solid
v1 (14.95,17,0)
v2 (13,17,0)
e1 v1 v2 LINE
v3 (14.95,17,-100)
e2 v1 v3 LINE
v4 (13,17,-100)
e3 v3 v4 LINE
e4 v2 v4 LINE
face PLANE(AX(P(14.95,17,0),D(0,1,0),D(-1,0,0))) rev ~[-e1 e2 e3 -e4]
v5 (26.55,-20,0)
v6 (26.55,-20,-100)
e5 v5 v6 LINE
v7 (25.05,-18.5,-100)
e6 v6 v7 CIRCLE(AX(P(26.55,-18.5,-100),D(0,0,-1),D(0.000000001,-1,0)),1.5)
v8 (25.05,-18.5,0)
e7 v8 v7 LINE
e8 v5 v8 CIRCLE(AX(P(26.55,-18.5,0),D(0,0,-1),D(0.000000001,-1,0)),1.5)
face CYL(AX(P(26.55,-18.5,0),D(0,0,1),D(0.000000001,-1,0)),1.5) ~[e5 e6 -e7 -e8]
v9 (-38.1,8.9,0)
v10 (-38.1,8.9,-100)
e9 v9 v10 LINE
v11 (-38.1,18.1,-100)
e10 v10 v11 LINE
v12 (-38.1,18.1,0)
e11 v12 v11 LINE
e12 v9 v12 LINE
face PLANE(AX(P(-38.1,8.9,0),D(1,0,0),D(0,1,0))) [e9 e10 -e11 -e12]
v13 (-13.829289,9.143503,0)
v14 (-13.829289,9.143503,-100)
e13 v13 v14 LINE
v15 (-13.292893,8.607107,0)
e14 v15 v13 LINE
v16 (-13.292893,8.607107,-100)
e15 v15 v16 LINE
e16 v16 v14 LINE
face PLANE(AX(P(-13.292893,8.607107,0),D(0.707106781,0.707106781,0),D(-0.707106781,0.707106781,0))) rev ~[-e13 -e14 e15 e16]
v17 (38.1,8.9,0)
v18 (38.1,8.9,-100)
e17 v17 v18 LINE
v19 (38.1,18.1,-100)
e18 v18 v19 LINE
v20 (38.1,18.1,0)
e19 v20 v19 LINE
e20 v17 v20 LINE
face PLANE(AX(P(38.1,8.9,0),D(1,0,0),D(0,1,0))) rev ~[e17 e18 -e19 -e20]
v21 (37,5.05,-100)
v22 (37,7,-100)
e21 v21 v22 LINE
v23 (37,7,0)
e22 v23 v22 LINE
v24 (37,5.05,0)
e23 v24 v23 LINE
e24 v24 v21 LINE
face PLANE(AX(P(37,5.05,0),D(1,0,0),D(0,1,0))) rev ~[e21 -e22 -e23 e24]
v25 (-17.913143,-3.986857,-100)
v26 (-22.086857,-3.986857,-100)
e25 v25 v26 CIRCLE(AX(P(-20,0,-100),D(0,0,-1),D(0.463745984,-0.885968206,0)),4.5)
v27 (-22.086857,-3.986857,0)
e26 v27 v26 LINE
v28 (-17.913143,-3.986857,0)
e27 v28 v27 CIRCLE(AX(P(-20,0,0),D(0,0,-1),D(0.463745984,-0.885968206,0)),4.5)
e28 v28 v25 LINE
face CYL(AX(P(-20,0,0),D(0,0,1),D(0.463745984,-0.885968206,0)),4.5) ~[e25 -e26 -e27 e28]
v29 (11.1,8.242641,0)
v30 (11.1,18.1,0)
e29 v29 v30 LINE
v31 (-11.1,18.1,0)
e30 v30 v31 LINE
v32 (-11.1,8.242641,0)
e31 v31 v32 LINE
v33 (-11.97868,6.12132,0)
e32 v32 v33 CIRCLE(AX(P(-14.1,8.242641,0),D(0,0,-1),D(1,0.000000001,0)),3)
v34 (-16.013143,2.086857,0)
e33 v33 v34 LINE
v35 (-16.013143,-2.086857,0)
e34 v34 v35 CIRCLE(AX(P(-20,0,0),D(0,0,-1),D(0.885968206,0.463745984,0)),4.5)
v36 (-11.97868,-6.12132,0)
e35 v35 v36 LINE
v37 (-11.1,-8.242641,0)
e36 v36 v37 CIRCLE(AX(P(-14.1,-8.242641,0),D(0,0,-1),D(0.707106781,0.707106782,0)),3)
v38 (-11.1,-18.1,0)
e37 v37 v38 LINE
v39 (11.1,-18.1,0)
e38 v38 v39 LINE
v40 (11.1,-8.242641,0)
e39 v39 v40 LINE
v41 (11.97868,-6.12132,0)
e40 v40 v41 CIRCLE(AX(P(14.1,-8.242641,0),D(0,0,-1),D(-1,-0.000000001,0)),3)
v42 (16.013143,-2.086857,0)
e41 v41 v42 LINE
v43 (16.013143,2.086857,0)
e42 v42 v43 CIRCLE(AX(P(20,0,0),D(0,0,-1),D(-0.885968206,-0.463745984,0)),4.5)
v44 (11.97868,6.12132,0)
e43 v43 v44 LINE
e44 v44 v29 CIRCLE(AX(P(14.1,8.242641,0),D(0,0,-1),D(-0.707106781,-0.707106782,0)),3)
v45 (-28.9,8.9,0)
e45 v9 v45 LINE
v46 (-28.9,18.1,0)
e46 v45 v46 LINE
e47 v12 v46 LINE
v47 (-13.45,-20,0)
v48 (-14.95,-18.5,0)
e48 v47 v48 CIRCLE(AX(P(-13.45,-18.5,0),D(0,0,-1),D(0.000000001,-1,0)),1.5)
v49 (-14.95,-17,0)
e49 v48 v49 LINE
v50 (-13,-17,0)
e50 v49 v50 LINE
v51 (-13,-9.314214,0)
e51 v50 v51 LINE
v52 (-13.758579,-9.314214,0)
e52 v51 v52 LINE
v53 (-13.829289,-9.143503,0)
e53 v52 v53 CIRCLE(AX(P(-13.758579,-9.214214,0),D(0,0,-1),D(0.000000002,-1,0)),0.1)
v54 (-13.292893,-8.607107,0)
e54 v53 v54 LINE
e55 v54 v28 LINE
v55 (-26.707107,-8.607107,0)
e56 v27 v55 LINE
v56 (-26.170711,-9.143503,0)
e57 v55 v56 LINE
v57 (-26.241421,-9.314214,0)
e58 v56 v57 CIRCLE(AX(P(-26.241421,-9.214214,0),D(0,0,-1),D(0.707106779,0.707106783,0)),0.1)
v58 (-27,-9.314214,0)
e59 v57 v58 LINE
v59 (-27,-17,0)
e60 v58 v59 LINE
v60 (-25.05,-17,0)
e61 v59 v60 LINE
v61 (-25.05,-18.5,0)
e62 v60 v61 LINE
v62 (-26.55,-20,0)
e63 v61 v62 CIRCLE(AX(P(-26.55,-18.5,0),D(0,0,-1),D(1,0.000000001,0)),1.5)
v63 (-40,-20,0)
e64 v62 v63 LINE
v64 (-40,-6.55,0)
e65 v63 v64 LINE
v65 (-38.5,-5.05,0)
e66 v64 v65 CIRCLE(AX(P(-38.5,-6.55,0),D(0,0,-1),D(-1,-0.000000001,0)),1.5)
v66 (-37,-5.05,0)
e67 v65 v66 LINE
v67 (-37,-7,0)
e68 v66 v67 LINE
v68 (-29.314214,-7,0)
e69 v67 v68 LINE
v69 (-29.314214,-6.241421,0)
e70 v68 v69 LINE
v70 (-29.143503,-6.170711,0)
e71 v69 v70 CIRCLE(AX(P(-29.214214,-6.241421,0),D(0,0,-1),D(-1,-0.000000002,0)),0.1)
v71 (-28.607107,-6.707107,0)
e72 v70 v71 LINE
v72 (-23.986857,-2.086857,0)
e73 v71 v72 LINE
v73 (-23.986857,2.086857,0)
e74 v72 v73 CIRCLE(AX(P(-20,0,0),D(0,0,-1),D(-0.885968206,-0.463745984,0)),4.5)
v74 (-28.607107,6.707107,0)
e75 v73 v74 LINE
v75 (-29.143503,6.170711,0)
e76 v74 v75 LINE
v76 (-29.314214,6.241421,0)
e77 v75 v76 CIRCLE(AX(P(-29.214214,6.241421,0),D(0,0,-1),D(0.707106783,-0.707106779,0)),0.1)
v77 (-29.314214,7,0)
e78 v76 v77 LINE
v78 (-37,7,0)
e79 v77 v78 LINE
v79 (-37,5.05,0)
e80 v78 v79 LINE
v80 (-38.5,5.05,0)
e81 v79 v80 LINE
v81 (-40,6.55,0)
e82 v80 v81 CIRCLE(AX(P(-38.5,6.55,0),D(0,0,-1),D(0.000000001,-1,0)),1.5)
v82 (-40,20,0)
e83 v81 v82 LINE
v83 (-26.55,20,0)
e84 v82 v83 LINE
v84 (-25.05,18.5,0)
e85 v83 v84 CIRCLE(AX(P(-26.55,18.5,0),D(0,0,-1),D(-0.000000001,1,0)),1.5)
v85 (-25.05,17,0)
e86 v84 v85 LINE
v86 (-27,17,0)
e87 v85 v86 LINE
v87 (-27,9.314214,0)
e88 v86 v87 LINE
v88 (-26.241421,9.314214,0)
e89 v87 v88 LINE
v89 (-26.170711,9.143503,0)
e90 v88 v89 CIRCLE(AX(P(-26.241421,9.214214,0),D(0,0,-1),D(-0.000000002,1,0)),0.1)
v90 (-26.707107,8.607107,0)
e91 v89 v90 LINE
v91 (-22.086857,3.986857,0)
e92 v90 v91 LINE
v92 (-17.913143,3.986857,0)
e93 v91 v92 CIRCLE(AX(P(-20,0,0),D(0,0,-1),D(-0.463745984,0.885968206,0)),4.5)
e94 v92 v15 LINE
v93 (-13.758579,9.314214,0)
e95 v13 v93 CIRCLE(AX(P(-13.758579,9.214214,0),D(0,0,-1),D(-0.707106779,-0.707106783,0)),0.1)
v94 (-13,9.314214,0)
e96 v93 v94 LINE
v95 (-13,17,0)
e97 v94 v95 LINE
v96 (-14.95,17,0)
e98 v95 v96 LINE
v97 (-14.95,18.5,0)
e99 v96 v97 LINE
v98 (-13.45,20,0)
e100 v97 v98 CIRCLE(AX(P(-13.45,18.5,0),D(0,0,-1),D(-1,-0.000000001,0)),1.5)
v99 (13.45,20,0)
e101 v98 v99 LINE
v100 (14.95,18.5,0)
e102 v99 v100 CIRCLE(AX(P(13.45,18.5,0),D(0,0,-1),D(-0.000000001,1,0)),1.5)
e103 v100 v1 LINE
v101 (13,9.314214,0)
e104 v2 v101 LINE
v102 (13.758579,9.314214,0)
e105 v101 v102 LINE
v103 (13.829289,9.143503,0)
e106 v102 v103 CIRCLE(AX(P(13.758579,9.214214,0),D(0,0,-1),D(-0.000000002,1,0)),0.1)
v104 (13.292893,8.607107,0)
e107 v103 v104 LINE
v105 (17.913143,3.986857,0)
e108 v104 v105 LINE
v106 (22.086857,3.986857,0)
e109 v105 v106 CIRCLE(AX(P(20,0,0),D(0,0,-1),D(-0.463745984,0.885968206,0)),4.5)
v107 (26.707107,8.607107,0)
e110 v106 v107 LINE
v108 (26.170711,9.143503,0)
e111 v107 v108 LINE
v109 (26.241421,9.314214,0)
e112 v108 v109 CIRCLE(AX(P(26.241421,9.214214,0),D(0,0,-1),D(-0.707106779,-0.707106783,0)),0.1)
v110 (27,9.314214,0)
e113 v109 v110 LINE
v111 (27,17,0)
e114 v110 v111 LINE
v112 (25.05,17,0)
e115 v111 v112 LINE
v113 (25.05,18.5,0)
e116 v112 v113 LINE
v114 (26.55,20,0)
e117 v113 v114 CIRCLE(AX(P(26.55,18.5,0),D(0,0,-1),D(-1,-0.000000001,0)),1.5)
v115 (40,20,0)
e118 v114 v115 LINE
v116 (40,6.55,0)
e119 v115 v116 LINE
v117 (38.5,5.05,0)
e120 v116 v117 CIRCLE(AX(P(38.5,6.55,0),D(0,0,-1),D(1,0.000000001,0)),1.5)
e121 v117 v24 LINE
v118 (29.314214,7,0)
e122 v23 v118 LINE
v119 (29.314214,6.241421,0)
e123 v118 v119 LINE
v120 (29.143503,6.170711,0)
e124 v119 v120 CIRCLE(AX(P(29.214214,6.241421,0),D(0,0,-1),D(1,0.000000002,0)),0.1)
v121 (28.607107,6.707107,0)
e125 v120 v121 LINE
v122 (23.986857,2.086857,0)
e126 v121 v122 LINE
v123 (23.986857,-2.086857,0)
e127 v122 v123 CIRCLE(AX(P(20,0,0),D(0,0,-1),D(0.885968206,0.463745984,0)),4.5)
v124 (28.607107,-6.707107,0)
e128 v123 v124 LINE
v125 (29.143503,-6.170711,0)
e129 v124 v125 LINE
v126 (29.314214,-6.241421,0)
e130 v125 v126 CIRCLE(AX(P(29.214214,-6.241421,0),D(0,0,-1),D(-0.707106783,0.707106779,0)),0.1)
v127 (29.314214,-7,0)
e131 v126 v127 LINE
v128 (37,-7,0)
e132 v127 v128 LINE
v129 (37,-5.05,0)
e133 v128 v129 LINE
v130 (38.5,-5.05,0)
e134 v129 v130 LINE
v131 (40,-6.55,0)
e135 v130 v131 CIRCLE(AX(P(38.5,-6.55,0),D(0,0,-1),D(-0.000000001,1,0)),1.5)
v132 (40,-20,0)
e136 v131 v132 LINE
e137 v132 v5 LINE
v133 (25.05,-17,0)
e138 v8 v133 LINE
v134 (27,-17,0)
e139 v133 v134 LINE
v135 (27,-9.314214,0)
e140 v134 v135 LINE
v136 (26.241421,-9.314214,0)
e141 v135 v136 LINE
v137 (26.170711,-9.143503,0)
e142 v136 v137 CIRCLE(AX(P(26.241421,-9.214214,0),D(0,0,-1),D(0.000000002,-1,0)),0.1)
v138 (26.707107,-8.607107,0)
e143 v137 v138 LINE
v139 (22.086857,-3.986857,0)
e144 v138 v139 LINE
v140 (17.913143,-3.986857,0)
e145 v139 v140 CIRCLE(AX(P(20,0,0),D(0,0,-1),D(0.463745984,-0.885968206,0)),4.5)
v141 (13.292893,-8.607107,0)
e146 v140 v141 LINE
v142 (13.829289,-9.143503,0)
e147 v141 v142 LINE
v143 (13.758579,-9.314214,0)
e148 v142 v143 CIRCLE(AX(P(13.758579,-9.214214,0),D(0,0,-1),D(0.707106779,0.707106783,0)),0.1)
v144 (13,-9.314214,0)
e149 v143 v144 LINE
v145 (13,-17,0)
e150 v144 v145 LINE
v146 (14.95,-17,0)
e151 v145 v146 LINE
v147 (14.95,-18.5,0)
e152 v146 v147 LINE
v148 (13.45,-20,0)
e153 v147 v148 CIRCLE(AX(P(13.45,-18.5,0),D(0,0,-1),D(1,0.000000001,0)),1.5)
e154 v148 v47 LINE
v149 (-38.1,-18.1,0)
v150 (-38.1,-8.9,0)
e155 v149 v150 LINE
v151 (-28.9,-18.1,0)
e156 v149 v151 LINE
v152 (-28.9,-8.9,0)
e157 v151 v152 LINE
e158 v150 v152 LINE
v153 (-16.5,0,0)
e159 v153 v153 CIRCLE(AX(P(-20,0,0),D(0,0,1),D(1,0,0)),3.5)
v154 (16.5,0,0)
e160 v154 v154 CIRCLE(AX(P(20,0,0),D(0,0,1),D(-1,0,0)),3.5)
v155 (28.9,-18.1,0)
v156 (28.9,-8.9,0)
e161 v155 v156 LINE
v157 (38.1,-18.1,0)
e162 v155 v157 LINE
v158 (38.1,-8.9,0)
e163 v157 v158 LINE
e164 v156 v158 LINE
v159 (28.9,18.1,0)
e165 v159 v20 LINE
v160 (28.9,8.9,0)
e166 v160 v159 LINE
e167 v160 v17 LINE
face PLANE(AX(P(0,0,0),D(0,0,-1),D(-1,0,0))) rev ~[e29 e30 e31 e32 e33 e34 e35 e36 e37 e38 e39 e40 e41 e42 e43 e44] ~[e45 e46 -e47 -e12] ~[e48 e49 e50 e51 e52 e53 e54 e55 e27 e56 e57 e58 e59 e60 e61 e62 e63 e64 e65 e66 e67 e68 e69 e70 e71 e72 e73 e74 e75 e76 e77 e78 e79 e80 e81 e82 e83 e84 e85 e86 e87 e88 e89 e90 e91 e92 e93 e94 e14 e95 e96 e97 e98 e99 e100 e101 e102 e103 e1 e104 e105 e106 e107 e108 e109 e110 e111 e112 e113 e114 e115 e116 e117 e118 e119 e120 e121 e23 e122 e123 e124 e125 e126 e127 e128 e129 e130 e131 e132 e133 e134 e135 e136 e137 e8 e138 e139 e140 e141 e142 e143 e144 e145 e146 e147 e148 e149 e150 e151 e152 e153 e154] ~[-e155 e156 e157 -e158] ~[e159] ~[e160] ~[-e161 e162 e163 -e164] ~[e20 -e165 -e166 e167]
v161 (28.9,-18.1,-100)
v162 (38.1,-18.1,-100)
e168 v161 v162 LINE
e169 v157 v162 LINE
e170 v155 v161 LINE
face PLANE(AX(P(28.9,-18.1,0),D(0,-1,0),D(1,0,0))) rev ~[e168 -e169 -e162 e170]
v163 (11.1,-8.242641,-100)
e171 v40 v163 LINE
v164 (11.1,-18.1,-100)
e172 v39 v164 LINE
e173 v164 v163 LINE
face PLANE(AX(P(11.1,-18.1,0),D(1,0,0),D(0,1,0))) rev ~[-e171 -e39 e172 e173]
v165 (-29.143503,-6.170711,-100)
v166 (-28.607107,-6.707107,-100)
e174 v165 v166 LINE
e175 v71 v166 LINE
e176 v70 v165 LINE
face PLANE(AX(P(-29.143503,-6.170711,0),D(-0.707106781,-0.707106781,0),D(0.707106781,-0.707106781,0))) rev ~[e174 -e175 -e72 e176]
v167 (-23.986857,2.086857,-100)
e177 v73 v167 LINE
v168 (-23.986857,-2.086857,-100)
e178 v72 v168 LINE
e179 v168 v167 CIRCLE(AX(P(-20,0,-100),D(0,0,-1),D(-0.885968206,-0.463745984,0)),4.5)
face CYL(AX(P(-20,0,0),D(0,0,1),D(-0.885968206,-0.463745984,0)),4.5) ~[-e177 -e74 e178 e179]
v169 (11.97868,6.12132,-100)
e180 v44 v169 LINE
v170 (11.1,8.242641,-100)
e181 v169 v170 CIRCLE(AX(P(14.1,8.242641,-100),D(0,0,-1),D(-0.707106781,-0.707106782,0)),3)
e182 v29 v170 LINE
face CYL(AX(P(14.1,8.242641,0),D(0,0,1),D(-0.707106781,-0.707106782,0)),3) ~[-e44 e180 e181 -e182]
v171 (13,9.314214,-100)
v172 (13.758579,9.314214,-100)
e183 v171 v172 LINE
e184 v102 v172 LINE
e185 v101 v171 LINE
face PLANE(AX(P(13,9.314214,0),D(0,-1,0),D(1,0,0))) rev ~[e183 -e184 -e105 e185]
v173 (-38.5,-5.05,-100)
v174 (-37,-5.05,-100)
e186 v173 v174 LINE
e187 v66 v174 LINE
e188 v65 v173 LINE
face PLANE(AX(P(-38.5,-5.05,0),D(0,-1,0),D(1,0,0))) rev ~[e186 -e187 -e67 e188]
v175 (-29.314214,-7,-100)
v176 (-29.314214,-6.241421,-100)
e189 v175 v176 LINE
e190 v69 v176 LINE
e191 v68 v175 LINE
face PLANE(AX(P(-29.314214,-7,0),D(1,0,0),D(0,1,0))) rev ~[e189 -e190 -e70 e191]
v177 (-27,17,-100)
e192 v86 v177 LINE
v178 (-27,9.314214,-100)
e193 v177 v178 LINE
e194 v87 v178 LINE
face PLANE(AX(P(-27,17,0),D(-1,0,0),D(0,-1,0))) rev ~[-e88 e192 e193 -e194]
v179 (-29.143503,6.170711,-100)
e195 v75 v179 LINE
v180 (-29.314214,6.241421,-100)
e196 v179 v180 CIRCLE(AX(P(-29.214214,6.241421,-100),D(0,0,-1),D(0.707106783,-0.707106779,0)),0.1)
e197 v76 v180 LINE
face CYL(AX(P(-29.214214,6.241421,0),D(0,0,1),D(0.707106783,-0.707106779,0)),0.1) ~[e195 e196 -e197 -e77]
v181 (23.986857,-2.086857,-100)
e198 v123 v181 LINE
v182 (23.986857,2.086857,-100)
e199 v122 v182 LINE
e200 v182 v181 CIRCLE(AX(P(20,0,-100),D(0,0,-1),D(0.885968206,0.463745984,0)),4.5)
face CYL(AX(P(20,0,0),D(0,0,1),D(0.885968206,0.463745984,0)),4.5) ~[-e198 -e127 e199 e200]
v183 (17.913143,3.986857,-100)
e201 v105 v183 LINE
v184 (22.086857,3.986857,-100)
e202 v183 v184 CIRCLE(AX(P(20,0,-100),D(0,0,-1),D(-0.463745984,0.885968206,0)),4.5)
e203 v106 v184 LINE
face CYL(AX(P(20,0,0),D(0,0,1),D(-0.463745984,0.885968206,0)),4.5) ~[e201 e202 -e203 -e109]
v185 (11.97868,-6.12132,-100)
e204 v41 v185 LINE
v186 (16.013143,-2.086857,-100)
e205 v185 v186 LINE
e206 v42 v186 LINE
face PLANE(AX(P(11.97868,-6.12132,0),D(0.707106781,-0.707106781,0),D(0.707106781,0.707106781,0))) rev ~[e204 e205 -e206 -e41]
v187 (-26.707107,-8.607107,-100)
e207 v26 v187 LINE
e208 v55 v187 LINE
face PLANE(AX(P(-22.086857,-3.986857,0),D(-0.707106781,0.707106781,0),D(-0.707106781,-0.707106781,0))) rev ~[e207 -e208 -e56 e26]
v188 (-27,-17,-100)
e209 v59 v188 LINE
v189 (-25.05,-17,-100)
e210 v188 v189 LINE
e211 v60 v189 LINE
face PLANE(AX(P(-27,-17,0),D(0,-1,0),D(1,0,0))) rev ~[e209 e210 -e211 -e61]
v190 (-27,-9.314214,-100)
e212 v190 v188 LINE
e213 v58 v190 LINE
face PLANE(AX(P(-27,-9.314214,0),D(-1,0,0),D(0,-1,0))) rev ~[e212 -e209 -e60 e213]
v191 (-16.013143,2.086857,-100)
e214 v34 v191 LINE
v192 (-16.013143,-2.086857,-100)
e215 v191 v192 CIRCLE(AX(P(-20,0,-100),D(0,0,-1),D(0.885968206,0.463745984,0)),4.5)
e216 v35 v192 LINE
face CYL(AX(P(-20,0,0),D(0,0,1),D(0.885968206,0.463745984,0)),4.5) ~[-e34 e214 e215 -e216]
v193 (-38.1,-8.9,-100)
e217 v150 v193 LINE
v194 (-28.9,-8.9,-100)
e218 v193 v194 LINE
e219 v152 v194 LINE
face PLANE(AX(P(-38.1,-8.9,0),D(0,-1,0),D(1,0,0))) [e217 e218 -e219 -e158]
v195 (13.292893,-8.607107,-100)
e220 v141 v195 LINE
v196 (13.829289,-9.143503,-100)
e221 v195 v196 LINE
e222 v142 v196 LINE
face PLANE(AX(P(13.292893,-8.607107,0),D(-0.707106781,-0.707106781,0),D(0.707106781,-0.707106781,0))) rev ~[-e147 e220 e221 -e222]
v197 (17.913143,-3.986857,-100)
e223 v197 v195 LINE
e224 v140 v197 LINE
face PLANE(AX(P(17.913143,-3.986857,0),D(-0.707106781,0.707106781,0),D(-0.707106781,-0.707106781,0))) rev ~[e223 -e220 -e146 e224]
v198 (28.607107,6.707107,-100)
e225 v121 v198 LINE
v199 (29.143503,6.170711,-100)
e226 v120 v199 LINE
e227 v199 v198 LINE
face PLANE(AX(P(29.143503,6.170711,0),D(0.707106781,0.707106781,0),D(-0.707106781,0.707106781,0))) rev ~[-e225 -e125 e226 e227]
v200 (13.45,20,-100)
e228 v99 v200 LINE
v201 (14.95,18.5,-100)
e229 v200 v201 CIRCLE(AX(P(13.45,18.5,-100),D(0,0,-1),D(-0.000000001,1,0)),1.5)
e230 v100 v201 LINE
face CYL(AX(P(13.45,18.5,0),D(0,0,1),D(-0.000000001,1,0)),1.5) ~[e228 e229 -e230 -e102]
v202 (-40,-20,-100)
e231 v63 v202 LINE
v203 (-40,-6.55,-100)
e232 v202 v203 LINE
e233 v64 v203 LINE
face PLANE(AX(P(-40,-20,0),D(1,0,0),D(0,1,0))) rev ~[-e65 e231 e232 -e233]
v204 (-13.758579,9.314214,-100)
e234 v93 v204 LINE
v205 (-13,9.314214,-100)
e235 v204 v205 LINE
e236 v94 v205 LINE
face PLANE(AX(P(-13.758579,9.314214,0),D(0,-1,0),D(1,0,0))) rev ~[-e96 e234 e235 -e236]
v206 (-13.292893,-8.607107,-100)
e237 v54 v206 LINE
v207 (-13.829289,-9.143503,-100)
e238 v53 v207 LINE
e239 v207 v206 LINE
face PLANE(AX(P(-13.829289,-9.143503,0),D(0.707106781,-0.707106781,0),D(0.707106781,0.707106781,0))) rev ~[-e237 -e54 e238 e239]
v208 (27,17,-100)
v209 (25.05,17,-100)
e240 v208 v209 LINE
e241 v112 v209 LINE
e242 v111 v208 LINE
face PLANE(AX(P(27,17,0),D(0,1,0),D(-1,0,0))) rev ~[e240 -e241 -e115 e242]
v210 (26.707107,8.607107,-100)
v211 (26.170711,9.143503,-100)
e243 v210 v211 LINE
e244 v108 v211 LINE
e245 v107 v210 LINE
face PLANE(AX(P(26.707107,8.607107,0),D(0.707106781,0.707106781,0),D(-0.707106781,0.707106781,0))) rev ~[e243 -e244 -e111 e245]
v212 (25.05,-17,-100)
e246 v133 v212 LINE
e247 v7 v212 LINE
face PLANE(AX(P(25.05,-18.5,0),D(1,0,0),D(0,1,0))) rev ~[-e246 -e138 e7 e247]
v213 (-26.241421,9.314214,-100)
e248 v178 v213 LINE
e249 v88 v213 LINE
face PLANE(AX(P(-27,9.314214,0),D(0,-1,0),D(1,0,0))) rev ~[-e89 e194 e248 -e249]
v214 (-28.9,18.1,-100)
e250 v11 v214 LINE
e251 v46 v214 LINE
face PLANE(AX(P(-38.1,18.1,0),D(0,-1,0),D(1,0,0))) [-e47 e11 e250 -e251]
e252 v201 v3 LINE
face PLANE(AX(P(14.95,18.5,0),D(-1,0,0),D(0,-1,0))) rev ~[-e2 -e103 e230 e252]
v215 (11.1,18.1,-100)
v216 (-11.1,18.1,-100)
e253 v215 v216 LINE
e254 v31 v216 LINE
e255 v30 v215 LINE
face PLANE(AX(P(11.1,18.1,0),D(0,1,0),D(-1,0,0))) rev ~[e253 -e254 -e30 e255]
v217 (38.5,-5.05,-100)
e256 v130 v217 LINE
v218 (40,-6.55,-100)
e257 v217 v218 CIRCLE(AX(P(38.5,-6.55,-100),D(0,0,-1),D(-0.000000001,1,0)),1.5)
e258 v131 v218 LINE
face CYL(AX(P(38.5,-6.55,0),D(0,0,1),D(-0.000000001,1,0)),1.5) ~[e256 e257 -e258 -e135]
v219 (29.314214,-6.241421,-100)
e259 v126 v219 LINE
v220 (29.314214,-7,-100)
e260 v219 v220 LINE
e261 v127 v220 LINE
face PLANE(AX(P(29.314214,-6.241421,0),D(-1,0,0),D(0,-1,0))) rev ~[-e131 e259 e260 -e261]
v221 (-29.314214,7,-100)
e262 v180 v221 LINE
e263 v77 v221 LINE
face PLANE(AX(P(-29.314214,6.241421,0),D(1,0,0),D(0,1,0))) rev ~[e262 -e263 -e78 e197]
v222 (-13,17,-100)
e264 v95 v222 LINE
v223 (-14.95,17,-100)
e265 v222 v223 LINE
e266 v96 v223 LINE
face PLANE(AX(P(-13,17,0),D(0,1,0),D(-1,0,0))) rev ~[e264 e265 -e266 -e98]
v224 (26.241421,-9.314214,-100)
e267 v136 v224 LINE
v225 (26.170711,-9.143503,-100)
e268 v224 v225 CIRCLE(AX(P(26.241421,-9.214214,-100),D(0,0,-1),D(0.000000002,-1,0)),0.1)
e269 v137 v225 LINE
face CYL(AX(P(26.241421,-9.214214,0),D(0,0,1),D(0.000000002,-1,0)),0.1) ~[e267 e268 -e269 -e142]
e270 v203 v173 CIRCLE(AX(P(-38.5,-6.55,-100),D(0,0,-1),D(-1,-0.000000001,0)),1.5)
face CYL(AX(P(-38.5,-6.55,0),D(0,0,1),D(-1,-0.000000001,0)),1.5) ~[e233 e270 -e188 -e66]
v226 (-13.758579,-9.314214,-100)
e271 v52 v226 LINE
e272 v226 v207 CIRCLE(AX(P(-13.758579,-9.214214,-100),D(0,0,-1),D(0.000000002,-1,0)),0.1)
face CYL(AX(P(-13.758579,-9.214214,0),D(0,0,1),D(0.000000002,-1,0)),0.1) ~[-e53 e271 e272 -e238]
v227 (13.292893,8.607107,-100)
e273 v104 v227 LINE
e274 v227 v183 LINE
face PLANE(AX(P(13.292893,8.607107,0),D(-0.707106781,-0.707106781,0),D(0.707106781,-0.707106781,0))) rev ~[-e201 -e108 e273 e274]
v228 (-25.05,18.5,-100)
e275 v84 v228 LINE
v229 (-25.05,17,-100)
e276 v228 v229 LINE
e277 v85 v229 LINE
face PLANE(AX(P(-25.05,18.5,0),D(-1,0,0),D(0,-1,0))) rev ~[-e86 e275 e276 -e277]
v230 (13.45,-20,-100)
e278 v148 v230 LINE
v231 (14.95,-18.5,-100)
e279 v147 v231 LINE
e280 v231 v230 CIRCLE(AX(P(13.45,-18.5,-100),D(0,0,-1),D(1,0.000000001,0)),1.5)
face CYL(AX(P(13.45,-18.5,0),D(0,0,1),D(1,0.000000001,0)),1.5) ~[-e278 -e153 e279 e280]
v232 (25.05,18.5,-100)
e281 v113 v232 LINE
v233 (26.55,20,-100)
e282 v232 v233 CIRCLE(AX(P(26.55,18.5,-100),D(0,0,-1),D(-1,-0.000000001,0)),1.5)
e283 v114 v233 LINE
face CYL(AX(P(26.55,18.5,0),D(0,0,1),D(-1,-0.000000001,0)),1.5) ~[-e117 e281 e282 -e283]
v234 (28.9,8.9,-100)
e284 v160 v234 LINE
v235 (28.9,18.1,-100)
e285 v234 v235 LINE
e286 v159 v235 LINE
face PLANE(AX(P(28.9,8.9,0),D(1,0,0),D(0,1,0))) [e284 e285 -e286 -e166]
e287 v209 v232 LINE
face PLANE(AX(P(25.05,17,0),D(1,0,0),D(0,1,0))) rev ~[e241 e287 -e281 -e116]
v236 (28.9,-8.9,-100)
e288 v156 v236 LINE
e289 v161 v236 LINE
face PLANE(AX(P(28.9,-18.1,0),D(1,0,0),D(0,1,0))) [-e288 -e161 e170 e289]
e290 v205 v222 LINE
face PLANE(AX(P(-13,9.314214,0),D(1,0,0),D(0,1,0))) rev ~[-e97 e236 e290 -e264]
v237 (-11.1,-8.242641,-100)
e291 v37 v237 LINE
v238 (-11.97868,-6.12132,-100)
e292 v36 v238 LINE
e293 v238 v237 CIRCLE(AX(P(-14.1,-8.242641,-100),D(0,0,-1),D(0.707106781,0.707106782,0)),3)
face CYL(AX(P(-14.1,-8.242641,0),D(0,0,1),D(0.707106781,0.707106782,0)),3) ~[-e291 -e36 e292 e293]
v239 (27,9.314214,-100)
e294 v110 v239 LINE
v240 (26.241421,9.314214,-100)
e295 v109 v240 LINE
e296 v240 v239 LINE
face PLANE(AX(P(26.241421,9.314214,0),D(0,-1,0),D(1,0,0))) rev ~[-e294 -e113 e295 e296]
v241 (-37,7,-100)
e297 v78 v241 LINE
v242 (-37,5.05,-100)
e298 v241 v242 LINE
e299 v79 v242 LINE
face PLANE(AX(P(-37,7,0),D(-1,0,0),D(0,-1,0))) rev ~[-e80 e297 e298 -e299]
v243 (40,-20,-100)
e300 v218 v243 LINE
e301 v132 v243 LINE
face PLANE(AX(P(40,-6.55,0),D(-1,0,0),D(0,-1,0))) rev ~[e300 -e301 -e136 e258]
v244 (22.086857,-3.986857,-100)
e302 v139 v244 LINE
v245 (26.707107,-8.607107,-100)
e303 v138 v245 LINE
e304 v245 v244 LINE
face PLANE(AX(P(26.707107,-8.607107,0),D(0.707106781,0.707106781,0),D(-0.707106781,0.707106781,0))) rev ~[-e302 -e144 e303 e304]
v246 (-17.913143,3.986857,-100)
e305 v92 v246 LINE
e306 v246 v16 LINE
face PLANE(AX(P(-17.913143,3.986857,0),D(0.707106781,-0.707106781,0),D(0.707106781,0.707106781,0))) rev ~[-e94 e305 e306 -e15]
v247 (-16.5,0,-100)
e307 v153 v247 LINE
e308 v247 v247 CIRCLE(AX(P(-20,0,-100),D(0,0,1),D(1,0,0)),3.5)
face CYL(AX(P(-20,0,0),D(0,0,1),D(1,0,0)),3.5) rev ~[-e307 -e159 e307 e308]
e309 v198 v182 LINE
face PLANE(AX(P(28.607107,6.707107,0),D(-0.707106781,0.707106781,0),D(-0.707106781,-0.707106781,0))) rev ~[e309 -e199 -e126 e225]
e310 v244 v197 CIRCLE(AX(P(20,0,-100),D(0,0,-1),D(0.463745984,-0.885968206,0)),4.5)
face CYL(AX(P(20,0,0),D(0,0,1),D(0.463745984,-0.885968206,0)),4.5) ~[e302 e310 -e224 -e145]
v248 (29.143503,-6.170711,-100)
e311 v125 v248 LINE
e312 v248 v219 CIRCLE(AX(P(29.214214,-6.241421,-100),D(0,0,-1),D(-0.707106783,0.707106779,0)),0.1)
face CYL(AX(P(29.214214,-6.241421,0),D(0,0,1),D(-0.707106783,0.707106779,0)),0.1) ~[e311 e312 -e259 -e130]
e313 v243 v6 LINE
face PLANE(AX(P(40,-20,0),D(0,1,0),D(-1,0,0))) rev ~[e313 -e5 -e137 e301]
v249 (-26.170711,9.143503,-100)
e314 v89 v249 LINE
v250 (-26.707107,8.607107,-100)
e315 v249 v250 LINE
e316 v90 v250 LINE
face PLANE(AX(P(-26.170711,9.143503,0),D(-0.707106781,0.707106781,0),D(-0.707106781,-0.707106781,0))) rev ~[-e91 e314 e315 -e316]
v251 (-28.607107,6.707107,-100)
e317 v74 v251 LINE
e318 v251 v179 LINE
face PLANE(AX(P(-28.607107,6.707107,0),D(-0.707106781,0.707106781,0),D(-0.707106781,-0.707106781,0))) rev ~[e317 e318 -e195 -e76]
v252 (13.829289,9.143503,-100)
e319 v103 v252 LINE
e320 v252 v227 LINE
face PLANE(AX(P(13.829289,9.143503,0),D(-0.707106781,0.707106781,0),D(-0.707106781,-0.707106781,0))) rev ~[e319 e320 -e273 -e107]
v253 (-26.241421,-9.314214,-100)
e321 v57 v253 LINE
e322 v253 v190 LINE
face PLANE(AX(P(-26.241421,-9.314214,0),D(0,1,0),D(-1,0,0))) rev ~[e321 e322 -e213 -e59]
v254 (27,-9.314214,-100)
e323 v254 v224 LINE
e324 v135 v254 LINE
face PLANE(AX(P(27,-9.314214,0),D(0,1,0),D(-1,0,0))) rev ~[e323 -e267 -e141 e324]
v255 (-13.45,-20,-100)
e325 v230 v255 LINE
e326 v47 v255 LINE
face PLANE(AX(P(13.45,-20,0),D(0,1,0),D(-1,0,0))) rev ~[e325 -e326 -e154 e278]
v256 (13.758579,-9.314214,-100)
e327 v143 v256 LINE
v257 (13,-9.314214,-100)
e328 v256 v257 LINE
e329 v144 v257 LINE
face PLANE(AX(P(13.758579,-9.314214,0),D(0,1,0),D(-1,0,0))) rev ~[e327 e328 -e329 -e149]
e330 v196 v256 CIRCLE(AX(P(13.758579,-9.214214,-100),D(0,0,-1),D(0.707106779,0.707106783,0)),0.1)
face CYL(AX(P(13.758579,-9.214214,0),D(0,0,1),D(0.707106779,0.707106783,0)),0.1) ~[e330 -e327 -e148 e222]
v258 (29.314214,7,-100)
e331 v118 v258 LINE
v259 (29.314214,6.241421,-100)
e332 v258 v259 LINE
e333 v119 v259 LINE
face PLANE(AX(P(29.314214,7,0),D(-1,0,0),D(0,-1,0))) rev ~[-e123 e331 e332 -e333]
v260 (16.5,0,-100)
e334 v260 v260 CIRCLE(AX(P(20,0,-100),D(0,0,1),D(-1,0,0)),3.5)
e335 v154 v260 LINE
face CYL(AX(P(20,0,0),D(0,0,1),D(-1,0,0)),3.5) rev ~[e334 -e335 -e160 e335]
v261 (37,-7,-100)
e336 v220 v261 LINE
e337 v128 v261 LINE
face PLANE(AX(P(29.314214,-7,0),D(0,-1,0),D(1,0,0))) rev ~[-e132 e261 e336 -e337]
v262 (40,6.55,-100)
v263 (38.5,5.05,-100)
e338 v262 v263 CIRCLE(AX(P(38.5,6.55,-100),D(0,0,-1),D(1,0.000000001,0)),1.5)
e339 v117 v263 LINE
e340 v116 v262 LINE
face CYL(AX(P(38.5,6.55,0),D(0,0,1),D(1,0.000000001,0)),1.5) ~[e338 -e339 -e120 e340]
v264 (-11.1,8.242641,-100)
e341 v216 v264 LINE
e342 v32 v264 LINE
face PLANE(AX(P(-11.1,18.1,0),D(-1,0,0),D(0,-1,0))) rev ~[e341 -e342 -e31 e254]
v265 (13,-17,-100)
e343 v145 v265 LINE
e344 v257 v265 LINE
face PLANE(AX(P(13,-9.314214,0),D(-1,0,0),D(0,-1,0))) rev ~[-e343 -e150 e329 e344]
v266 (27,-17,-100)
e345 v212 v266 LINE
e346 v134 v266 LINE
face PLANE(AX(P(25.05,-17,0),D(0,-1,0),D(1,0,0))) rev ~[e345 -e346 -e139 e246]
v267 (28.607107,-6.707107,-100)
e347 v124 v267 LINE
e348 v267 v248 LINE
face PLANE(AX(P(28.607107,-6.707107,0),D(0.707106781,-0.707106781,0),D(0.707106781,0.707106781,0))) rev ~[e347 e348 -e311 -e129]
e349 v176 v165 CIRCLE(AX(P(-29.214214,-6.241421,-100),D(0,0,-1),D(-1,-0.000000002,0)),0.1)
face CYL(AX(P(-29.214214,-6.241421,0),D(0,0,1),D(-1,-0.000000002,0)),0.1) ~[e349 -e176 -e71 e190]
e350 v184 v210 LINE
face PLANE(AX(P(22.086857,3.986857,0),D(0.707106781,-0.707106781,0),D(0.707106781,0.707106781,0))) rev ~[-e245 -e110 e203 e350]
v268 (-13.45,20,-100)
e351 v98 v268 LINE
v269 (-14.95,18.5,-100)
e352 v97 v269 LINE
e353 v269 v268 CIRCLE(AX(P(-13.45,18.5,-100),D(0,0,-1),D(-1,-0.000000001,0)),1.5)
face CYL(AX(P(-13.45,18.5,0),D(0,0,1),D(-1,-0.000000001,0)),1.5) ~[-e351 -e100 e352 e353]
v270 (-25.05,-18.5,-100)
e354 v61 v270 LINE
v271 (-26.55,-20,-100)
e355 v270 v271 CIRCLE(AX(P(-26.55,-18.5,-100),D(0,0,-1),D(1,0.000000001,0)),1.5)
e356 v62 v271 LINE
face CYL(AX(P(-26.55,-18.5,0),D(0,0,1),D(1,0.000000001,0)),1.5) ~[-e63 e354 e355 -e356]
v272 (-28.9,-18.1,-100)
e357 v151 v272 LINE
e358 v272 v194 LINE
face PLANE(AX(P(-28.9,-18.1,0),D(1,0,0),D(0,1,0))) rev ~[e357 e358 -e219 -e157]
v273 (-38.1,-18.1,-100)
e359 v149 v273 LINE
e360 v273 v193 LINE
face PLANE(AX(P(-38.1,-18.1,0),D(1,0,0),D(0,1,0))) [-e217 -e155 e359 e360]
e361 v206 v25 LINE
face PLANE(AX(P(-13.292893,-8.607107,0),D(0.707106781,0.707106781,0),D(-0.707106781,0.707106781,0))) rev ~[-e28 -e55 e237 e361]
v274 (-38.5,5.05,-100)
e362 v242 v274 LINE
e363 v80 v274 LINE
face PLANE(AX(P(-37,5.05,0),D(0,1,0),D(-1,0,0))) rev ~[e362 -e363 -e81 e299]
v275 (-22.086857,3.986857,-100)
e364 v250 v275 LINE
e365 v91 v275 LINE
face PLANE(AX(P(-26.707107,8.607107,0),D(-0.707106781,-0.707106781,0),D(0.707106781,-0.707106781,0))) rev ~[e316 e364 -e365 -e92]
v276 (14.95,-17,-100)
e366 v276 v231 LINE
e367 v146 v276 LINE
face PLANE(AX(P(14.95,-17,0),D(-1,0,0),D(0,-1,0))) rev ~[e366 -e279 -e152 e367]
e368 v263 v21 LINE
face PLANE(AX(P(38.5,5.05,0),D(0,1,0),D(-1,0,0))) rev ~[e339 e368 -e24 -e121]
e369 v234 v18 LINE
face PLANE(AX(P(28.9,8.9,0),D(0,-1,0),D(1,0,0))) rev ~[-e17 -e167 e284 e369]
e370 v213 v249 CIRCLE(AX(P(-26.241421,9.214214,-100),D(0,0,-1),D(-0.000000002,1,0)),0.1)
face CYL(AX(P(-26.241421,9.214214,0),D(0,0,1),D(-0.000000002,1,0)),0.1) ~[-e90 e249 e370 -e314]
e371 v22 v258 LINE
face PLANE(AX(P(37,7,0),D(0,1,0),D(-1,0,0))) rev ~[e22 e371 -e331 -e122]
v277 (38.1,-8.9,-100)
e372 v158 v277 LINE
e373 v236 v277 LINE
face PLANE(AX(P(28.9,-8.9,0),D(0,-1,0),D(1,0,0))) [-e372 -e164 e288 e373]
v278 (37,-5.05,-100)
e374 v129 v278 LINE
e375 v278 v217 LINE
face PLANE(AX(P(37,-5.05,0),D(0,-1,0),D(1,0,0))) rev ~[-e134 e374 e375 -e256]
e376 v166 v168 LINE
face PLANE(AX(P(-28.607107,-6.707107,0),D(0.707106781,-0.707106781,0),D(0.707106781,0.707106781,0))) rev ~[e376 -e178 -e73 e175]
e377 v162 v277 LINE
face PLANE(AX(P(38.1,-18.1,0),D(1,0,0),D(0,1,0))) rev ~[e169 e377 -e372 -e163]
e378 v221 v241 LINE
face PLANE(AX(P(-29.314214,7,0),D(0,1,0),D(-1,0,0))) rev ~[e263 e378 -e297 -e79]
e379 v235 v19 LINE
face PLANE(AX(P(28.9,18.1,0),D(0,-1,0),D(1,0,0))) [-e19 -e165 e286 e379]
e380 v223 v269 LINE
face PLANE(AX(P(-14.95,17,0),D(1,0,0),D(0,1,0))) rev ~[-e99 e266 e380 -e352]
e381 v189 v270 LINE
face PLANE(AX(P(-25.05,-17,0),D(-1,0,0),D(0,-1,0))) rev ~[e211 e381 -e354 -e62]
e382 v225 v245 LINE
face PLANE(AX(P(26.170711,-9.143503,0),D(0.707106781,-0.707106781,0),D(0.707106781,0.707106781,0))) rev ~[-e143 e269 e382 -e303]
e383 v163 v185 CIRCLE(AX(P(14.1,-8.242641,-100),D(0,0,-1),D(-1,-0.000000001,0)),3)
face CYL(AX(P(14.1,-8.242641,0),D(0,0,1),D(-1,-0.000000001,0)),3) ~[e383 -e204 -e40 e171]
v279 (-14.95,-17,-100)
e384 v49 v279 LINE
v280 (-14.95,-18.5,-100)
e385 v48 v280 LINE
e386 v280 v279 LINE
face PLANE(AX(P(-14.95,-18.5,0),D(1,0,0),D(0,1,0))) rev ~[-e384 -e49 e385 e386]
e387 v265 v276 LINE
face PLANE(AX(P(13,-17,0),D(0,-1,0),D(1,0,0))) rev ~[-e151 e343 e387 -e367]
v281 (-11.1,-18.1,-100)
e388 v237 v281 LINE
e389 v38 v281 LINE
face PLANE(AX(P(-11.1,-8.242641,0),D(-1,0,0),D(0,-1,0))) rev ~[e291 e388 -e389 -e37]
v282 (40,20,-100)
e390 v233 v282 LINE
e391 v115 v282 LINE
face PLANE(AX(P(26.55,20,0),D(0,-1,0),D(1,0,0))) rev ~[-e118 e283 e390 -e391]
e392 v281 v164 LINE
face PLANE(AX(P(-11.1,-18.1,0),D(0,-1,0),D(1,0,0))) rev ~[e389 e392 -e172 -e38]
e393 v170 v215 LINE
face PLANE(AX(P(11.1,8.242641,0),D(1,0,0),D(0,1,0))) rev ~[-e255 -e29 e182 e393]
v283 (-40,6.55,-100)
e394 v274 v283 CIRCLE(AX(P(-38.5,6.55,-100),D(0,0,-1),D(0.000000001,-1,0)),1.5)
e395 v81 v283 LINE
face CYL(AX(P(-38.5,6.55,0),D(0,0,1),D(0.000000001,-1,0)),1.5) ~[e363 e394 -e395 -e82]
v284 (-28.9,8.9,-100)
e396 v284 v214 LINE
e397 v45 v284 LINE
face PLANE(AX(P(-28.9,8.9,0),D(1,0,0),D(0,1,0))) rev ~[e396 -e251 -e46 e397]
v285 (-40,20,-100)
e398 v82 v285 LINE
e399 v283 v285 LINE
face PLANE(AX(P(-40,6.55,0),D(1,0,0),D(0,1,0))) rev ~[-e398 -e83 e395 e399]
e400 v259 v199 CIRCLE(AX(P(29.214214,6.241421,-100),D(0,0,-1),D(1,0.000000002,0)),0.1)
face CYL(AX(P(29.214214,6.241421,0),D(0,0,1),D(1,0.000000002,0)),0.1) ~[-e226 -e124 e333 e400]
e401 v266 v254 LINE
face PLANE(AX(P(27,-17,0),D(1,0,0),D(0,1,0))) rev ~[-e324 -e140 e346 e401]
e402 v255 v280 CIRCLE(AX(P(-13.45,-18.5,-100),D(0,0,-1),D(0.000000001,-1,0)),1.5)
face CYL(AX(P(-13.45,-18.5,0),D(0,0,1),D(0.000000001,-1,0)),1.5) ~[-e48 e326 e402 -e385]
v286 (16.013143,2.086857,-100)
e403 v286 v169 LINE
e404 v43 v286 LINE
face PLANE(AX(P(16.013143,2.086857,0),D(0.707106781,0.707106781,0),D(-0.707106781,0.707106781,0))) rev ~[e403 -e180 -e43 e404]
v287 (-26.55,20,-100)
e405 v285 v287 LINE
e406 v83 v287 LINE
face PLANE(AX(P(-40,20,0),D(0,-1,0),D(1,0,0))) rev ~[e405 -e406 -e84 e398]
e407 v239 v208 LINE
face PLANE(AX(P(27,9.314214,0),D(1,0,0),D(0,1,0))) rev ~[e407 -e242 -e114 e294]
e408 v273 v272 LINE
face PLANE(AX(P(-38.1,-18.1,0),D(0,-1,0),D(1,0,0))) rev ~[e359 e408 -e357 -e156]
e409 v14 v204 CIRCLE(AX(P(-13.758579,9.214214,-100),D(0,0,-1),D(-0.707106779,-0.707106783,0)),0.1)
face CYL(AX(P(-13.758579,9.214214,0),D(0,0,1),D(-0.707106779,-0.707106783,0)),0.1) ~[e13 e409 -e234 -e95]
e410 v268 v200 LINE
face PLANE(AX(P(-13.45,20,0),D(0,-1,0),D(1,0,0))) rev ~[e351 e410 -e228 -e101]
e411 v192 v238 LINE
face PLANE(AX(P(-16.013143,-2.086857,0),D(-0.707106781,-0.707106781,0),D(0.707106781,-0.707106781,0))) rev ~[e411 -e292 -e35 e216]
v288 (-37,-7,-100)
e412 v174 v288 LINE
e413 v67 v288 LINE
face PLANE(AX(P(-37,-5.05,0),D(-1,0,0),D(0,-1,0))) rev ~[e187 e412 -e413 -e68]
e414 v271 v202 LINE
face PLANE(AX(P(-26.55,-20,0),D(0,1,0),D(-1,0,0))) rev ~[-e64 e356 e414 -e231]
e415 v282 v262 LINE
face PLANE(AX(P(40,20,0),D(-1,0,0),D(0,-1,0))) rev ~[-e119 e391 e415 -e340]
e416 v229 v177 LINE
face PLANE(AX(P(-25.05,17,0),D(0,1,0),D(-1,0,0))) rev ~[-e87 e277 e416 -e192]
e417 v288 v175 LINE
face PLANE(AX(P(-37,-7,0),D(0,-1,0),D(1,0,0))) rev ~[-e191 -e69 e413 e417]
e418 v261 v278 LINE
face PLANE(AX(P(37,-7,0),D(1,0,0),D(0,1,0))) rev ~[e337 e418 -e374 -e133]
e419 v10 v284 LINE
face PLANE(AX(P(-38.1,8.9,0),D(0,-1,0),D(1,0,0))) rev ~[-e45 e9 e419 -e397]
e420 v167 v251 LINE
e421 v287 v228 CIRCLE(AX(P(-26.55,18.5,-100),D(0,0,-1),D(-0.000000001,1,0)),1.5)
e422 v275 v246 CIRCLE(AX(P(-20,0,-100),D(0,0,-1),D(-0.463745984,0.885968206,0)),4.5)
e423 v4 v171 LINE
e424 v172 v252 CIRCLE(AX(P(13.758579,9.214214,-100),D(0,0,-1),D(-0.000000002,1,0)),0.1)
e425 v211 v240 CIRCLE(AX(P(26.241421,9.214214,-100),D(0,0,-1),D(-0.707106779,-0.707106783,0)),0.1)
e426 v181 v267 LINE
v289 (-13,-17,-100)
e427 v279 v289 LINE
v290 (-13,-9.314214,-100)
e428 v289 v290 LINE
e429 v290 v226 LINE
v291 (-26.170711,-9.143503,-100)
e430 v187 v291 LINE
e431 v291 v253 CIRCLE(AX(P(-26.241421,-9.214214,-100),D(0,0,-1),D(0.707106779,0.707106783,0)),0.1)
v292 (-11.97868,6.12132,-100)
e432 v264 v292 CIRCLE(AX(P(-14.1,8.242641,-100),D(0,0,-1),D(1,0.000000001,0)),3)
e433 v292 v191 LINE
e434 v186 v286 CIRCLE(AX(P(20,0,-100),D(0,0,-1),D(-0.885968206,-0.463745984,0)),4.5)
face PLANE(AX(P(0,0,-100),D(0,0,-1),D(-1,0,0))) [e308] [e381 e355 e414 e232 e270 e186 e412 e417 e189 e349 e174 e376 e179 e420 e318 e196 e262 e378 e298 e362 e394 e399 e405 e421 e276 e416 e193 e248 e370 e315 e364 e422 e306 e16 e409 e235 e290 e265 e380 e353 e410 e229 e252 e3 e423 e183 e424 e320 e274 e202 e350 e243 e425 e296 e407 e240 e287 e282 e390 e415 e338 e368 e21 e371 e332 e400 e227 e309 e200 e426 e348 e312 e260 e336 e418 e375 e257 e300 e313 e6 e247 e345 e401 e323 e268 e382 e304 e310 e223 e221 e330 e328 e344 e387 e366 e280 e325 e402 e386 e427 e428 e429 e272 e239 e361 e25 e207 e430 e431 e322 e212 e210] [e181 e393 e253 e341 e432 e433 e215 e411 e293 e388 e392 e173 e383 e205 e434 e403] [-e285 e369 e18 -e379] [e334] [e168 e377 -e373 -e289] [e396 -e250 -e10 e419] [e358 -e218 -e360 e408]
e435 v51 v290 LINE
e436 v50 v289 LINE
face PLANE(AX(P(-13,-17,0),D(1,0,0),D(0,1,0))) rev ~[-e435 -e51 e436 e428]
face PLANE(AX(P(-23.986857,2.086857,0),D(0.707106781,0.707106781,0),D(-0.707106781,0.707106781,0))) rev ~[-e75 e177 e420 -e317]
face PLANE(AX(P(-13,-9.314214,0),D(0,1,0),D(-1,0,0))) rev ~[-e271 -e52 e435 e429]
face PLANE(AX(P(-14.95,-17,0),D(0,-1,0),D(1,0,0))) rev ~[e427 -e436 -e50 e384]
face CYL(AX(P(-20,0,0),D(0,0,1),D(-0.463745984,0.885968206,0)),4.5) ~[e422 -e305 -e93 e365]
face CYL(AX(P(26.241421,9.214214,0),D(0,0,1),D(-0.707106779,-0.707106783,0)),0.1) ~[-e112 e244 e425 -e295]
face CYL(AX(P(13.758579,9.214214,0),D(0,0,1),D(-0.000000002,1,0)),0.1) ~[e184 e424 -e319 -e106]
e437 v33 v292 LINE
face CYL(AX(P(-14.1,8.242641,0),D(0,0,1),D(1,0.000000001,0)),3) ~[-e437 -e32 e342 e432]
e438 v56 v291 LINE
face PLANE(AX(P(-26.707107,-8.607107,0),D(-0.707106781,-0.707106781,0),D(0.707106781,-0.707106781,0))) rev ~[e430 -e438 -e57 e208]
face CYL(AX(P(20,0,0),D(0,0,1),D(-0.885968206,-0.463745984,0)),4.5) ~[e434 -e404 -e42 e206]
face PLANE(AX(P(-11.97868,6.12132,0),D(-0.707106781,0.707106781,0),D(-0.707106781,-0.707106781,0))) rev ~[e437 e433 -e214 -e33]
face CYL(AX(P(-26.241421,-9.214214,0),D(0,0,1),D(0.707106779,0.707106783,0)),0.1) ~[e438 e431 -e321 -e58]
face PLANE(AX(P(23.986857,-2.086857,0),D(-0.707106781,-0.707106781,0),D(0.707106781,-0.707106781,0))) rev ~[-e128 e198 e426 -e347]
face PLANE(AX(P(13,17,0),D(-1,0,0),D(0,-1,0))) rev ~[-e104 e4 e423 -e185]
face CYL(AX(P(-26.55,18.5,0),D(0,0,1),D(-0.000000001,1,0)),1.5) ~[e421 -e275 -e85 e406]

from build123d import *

# Parameters (mm, degrees)
SKETCH_1_R      = 3.5
SKETCH_1_W      = 9.2
SKETCH_1_H      = 9.2
EXTRUDE_3_DEPTH = 100


with BuildPart() as part:
    # 草图1 → 凸台-拉伸3 (new body)
    with BuildSketch(Plane.XY):
        with BuildLine():
            Line((-27, 17), (-27, 9.314213562))
            Line((-27, 9.314213562), (-26.241421356, 9.314213562))
            ThreePointArc((-26.241421356, 9.314213562), (-26.149033403, 9.252481906), (-26.170710678, 9.143502884))
            Line((-26.170710678, 9.143502884), (-26.707106781, 8.607106781))
            Line((-26.707106781, 8.607106781), (-22.086856928, 3.986856928))
            ThreePointArc((-22.086856928, 3.986856928), (-20, 4.5), (-17.913143072, 3.986856928))
            Line((-17.913143072, 3.986856928), (-13.292893219, 8.607106781))
            Line((-13.292893219, 8.607106781), (-13.829289322, 9.143502884))
            ThreePointArc((-13.829289322, 9.143502884), (-13.850966597, 9.252481906), (-13.758578644, 9.314213562))
            Line((-13.758578644, 9.314213562), (-13, 9.314213562))
            Line((-13, 9.314213562), (-13, 17))
            Line((-13, 17), (-14.95, 17))
            Line((-14.95, 17), (-14.95, 18.5))
            ThreePointArc((-14.95, 18.5), (-14.510660172, 19.560660172), (-13.45, 20))
            Line((-13.45, 20), (13.45, 20))
            ThreePointArc((13.45, 20), (14.510660172, 19.560660172), (14.95, 18.5))
            Line((14.95, 18.5), (14.95, 17))
            Line((14.95, 17), (13, 17))
            Line((13, 17), (13, 9.314213562))
            Line((13, 9.314213562), (13.758578644, 9.314213562))
            ThreePointArc((13.758578644, 9.314213562), (13.850966597, 9.252481906), (13.829289322, 9.143502884))
            Line((13.829289322, 9.143502884), (13.292893219, 8.607106781))
            Line((13.292893219, 8.607106781), (17.913143072, 3.986856928))
            ThreePointArc((17.913143072, 3.986856928), (20, 4.5), (22.086856928, 3.986856928))
            Line((22.086856928, 3.986856928), (26.707106781, 8.607106781))
            Line((26.707106781, 8.607106781), (26.170710678, 9.143502884))
            ThreePointArc((26.170710678, 9.143502884), (26.149033403, 9.252481906), (26.241421356, 9.314213562))
            Line((26.241421356, 9.314213562), (27, 9.314213562))
            Line((27, 9.314213562), (27, 17))
            Line((27, 17), (25.05, 17))
            Line((25.05, 17), (25.05, 18.5))
            ThreePointArc((25.05, 18.5), (25.489339828, 19.560660172), (26.55, 20))
            Line((26.55, 20), (40, 20))
            Line((40, 20), (40, 6.55))
            ThreePointArc((40, 6.55), (39.560660172, 5.489339828), (38.5, 5.05))
            Line((38.5, 5.05), (37, 5.05))
            Line((37, 5.05), (37, 7))
            Line((37, 7), (29.314213562, 7))
            Line((29.314213562, 7), (29.314213562, 6.241421356))
            ThreePointArc((29.314213562, 6.241421356), (29.252481906, 6.149033403), (29.143502884, 6.170710678))
            Line((29.143502884, 6.170710678), (28.607106781, 6.707106781))
            Line((28.607106781, 6.707106781), (23.986856928, 2.086856928))
            ThreePointArc((23.986856928, 2.086856928), (24.5, 0), (23.986856928, -2.086856928))
            Line((23.986856928, -2.086856928), (28.607106781, -6.707106781))
            Line((28.607106781, -6.707106781), (29.143502884, -6.170710678))
            ThreePointArc((29.143502884, -6.170710678), (29.252481906, -6.149033403), (29.314213562, -6.241421356))
            Line((29.314213562, -6.241421356), (29.314213562, -7))
            Line((29.314213562, -7), (37, -7))
            Line((37, -7), (37, -5.05))
            Line((37, -5.05), (38.5, -5.05))
            ThreePointArc((38.5, -5.05), (39.560660172, -5.489339828), (40, -6.55))
            Line((40, -6.55), (40, -20))
            Line((40, -20), (26.55, -20))
            ThreePointArc((26.55, -20), (25.489339828, -19.560660172), (25.05, -18.5))
            Line((25.05, -18.5), (25.05, -17))
            Line((25.05, -17), (27, -17))
            Line((27, -17), (27, -9.314213562))
            Line((27, -9.314213562), (26.241421356, -9.314213562))
            ThreePointArc((26.241421356, -9.314213562), (26.149033403, -9.252481906), (26.170710678, -9.143502884))
            Line((26.170710678, -9.143502884), (26.707106781, -8.607106781))
            Line((26.707106781, -8.607106781), (22.086856928, -3.986856928))
            ThreePointArc((22.086856928, -3.986856928), (20, -4.5), (17.913143072, -3.986856928))
            Line((17.913143072, -3.986856928), (13.292893219, -8.607106781))
            Line((13.292893219, -8.607106781), (13.829289322, -9.143502884))
            ThreePointArc((13.829289322, -9.143502884), (13.850966597, -9.252481906), (13.758578644, -9.314213562))
            Line((13.758578644, -9.314213562), (13, -9.314213562))
            Line((13, -9.314213562), (13, -17))
            Line((13, -17), (14.95, -17))
            Line((14.95, -17), (14.95, -18.5))
            ThreePointArc((14.95, -18.5), (14.510660172, -19.560660172), (13.45, -20))
            Line((13.45, -20), (-13.45, -20))
            ThreePointArc((-13.45, -20), (-14.510660172, -19.560660172), (-14.95, -18.5))
            Line((-14.95, -18.5), (-14.95, -17))
            Line((-14.95, -17), (-13, -17))
            Line((-13, -17), (-13, -9.314213562))
            Line((-13, -9.314213562), (-13.758578644, -9.314213562))
            ThreePointArc((-13.758578644, -9.314213562), (-13.850966597, -9.252481906), (-13.829289322, -9.143502884))
            Line((-13.829289322, -9.143502884), (-13.292893219, -8.607106781))
            Line((-13.292893219, -8.607106781), (-17.913143072, -3.986856928))
            ThreePointArc((-17.913143072, -3.986856928), (-20, -4.5), (-22.086856928, -3.986856928))
            Line((-22.086856928, -3.986856928), (-26.707106781, -8.607106781))
            Line((-26.707106781, -8.607106781), (-26.170710678, -9.143502884))
            ThreePointArc((-26.170710678, -9.143502884), (-26.149033403, -9.252481906), (-26.241421356, -9.314213562))
            Line((-26.241421356, -9.314213562), (-27, -9.314213562))
            Line((-27, -9.314213562), (-27, -17))
            Line((-27, -17), (-25.05, -17))
            Line((-25.05, -17), (-25.05, -18.5))
            ThreePointArc((-25.05, -18.5), (-25.489339828, -19.560660172), (-26.55, -20))
            Line((-26.55, -20), (-40, -20))
            Line((-40, -20), (-40, -6.55))
            ThreePointArc((-40, -6.55), (-39.560660172, -5.489339828), (-38.5, -5.05))
            Line((-38.5, -5.05), (-37, -5.05))
            Line((-37, -5.05), (-37, -7))
            Line((-37, -7), (-29.314213562, -7))
            Line((-29.314213562, -7), (-29.314213562, -6.241421356))
            ThreePointArc((-29.314213562, -6.241421356), (-29.252481906, -6.149033403), (-29.143502884, -6.170710678))
            Line((-29.143502884, -6.170710678), (-28.607106781, -6.707106781))
            Line((-28.607106781, -6.707106781), (-23.986856928, -2.086856928))
            ThreePointArc((-23.986856928, -2.086856928), (-24.5, 0), (-23.986856928, 2.086856928))
            Line((-23.986856928, 2.086856928), (-28.607106781, 6.707106781))
            Line((-28.607106781, 6.707106781), (-29.143502884, 6.170710678))
            ThreePointArc((-29.143502884, 6.170710678), (-29.252481906, 6.149033403), (-29.314213562, 6.241421356))
            Line((-29.314213562, 6.241421356), (-29.314213562, 7))
            Line((-29.314213562, 7), (-37, 7))
            Line((-37, 7), (-37, 5.05))
            Line((-37, 5.05), (-38.5, 5.05))
            ThreePointArc((-38.5, 5.05), (-39.560660172, 5.489339828), (-40, 6.55))
            Line((-40, 6.55), (-40, 20))
            Line((-40, 20), (-26.55, 20))
            ThreePointArc((-26.55, 20), (-25.489339828, 19.560660172), (-25.05, 18.5))
            Line((-25.05, 18.5), (-25.05, 17))
            Line((-25.05, 17), (-27, 17))
        make_face()
        with Locations((-20, 0)):
            Circle(SKETCH_1_R, mode=Mode.SUBTRACT)
        with Locations(Location((20, 0, 0), (0, 0, 180))):
            Circle(SKETCH_1_R, mode=Mode.SUBTRACT)
        with Locations((-33.5, 13.5)):
            Rectangle(SKETCH_1_W, SKETCH_1_H, mode=Mode.SUBTRACT)
        with BuildLine():
            Line((-11.978679656, 6.121320344), (-16.013143072, 2.086856928))
            ThreePointArc((-16.013143072, 2.086856928), (-15.5, 0), (-16.013143072, -2.086856928))
            Line((-16.013143072, -2.086856928), (-11.978679656, -6.121320344))
            ThreePointArc((-11.978679656, -6.121320344), (-11.328361402, -7.09459039), (-11.1, -8.242640687))
            Line((-11.1, -8.242640687), (-11.1, -18.1))
            Line((-11.1, -18.1), (11.1, -18.1))
            Line((11.1, -18.1), (11.1, -8.242640687))
            ThreePointArc((11.1, -8.242640687), (11.328361402, -7.09459039), (11.978679656, -6.121320344))
            Line((11.978679656, -6.121320344), (16.013143072, -2.086856928))
            ThreePointArc((16.013143072, -2.086856928), (15.5, 0), (16.013143072, 2.086856928))
            Line((16.013143072, 2.086856928), (11.978679656, 6.121320344))
            ThreePointArc((11.978679656, 6.121320344), (11.328361402, 7.09459039), (11.1, 8.242640687))
            Line((11.1, 8.242640687), (11.1, 18.1))
            Line((11.1, 18.1), (-11.1, 18.1))
            Line((-11.1, 18.1), (-11.1, 8.242640687))
            ThreePointArc((-11.1, 8.242640687), (-11.328361402, 7.09459039), (-11.978679656, 6.121320344))
        make_face(mode=Mode.SUBTRACT)
        with Locations((-33.5, -13.5)):
            Rectangle(SKETCH_1_W, SKETCH_1_H, mode=Mode.SUBTRACT)
        with Locations((33.5, -13.5)):
            Rectangle(SKETCH_1_W, SKETCH_1_H, mode=Mode.SUBTRACT)
        with Locations((33.5, 13.5)):
            Rectangle(SKETCH_1_W, SKETCH_1_H, mode=Mode.SUBTRACT)
    extrude(amount=-EXTRUDE_3_DEPTH)


solid = part.part
